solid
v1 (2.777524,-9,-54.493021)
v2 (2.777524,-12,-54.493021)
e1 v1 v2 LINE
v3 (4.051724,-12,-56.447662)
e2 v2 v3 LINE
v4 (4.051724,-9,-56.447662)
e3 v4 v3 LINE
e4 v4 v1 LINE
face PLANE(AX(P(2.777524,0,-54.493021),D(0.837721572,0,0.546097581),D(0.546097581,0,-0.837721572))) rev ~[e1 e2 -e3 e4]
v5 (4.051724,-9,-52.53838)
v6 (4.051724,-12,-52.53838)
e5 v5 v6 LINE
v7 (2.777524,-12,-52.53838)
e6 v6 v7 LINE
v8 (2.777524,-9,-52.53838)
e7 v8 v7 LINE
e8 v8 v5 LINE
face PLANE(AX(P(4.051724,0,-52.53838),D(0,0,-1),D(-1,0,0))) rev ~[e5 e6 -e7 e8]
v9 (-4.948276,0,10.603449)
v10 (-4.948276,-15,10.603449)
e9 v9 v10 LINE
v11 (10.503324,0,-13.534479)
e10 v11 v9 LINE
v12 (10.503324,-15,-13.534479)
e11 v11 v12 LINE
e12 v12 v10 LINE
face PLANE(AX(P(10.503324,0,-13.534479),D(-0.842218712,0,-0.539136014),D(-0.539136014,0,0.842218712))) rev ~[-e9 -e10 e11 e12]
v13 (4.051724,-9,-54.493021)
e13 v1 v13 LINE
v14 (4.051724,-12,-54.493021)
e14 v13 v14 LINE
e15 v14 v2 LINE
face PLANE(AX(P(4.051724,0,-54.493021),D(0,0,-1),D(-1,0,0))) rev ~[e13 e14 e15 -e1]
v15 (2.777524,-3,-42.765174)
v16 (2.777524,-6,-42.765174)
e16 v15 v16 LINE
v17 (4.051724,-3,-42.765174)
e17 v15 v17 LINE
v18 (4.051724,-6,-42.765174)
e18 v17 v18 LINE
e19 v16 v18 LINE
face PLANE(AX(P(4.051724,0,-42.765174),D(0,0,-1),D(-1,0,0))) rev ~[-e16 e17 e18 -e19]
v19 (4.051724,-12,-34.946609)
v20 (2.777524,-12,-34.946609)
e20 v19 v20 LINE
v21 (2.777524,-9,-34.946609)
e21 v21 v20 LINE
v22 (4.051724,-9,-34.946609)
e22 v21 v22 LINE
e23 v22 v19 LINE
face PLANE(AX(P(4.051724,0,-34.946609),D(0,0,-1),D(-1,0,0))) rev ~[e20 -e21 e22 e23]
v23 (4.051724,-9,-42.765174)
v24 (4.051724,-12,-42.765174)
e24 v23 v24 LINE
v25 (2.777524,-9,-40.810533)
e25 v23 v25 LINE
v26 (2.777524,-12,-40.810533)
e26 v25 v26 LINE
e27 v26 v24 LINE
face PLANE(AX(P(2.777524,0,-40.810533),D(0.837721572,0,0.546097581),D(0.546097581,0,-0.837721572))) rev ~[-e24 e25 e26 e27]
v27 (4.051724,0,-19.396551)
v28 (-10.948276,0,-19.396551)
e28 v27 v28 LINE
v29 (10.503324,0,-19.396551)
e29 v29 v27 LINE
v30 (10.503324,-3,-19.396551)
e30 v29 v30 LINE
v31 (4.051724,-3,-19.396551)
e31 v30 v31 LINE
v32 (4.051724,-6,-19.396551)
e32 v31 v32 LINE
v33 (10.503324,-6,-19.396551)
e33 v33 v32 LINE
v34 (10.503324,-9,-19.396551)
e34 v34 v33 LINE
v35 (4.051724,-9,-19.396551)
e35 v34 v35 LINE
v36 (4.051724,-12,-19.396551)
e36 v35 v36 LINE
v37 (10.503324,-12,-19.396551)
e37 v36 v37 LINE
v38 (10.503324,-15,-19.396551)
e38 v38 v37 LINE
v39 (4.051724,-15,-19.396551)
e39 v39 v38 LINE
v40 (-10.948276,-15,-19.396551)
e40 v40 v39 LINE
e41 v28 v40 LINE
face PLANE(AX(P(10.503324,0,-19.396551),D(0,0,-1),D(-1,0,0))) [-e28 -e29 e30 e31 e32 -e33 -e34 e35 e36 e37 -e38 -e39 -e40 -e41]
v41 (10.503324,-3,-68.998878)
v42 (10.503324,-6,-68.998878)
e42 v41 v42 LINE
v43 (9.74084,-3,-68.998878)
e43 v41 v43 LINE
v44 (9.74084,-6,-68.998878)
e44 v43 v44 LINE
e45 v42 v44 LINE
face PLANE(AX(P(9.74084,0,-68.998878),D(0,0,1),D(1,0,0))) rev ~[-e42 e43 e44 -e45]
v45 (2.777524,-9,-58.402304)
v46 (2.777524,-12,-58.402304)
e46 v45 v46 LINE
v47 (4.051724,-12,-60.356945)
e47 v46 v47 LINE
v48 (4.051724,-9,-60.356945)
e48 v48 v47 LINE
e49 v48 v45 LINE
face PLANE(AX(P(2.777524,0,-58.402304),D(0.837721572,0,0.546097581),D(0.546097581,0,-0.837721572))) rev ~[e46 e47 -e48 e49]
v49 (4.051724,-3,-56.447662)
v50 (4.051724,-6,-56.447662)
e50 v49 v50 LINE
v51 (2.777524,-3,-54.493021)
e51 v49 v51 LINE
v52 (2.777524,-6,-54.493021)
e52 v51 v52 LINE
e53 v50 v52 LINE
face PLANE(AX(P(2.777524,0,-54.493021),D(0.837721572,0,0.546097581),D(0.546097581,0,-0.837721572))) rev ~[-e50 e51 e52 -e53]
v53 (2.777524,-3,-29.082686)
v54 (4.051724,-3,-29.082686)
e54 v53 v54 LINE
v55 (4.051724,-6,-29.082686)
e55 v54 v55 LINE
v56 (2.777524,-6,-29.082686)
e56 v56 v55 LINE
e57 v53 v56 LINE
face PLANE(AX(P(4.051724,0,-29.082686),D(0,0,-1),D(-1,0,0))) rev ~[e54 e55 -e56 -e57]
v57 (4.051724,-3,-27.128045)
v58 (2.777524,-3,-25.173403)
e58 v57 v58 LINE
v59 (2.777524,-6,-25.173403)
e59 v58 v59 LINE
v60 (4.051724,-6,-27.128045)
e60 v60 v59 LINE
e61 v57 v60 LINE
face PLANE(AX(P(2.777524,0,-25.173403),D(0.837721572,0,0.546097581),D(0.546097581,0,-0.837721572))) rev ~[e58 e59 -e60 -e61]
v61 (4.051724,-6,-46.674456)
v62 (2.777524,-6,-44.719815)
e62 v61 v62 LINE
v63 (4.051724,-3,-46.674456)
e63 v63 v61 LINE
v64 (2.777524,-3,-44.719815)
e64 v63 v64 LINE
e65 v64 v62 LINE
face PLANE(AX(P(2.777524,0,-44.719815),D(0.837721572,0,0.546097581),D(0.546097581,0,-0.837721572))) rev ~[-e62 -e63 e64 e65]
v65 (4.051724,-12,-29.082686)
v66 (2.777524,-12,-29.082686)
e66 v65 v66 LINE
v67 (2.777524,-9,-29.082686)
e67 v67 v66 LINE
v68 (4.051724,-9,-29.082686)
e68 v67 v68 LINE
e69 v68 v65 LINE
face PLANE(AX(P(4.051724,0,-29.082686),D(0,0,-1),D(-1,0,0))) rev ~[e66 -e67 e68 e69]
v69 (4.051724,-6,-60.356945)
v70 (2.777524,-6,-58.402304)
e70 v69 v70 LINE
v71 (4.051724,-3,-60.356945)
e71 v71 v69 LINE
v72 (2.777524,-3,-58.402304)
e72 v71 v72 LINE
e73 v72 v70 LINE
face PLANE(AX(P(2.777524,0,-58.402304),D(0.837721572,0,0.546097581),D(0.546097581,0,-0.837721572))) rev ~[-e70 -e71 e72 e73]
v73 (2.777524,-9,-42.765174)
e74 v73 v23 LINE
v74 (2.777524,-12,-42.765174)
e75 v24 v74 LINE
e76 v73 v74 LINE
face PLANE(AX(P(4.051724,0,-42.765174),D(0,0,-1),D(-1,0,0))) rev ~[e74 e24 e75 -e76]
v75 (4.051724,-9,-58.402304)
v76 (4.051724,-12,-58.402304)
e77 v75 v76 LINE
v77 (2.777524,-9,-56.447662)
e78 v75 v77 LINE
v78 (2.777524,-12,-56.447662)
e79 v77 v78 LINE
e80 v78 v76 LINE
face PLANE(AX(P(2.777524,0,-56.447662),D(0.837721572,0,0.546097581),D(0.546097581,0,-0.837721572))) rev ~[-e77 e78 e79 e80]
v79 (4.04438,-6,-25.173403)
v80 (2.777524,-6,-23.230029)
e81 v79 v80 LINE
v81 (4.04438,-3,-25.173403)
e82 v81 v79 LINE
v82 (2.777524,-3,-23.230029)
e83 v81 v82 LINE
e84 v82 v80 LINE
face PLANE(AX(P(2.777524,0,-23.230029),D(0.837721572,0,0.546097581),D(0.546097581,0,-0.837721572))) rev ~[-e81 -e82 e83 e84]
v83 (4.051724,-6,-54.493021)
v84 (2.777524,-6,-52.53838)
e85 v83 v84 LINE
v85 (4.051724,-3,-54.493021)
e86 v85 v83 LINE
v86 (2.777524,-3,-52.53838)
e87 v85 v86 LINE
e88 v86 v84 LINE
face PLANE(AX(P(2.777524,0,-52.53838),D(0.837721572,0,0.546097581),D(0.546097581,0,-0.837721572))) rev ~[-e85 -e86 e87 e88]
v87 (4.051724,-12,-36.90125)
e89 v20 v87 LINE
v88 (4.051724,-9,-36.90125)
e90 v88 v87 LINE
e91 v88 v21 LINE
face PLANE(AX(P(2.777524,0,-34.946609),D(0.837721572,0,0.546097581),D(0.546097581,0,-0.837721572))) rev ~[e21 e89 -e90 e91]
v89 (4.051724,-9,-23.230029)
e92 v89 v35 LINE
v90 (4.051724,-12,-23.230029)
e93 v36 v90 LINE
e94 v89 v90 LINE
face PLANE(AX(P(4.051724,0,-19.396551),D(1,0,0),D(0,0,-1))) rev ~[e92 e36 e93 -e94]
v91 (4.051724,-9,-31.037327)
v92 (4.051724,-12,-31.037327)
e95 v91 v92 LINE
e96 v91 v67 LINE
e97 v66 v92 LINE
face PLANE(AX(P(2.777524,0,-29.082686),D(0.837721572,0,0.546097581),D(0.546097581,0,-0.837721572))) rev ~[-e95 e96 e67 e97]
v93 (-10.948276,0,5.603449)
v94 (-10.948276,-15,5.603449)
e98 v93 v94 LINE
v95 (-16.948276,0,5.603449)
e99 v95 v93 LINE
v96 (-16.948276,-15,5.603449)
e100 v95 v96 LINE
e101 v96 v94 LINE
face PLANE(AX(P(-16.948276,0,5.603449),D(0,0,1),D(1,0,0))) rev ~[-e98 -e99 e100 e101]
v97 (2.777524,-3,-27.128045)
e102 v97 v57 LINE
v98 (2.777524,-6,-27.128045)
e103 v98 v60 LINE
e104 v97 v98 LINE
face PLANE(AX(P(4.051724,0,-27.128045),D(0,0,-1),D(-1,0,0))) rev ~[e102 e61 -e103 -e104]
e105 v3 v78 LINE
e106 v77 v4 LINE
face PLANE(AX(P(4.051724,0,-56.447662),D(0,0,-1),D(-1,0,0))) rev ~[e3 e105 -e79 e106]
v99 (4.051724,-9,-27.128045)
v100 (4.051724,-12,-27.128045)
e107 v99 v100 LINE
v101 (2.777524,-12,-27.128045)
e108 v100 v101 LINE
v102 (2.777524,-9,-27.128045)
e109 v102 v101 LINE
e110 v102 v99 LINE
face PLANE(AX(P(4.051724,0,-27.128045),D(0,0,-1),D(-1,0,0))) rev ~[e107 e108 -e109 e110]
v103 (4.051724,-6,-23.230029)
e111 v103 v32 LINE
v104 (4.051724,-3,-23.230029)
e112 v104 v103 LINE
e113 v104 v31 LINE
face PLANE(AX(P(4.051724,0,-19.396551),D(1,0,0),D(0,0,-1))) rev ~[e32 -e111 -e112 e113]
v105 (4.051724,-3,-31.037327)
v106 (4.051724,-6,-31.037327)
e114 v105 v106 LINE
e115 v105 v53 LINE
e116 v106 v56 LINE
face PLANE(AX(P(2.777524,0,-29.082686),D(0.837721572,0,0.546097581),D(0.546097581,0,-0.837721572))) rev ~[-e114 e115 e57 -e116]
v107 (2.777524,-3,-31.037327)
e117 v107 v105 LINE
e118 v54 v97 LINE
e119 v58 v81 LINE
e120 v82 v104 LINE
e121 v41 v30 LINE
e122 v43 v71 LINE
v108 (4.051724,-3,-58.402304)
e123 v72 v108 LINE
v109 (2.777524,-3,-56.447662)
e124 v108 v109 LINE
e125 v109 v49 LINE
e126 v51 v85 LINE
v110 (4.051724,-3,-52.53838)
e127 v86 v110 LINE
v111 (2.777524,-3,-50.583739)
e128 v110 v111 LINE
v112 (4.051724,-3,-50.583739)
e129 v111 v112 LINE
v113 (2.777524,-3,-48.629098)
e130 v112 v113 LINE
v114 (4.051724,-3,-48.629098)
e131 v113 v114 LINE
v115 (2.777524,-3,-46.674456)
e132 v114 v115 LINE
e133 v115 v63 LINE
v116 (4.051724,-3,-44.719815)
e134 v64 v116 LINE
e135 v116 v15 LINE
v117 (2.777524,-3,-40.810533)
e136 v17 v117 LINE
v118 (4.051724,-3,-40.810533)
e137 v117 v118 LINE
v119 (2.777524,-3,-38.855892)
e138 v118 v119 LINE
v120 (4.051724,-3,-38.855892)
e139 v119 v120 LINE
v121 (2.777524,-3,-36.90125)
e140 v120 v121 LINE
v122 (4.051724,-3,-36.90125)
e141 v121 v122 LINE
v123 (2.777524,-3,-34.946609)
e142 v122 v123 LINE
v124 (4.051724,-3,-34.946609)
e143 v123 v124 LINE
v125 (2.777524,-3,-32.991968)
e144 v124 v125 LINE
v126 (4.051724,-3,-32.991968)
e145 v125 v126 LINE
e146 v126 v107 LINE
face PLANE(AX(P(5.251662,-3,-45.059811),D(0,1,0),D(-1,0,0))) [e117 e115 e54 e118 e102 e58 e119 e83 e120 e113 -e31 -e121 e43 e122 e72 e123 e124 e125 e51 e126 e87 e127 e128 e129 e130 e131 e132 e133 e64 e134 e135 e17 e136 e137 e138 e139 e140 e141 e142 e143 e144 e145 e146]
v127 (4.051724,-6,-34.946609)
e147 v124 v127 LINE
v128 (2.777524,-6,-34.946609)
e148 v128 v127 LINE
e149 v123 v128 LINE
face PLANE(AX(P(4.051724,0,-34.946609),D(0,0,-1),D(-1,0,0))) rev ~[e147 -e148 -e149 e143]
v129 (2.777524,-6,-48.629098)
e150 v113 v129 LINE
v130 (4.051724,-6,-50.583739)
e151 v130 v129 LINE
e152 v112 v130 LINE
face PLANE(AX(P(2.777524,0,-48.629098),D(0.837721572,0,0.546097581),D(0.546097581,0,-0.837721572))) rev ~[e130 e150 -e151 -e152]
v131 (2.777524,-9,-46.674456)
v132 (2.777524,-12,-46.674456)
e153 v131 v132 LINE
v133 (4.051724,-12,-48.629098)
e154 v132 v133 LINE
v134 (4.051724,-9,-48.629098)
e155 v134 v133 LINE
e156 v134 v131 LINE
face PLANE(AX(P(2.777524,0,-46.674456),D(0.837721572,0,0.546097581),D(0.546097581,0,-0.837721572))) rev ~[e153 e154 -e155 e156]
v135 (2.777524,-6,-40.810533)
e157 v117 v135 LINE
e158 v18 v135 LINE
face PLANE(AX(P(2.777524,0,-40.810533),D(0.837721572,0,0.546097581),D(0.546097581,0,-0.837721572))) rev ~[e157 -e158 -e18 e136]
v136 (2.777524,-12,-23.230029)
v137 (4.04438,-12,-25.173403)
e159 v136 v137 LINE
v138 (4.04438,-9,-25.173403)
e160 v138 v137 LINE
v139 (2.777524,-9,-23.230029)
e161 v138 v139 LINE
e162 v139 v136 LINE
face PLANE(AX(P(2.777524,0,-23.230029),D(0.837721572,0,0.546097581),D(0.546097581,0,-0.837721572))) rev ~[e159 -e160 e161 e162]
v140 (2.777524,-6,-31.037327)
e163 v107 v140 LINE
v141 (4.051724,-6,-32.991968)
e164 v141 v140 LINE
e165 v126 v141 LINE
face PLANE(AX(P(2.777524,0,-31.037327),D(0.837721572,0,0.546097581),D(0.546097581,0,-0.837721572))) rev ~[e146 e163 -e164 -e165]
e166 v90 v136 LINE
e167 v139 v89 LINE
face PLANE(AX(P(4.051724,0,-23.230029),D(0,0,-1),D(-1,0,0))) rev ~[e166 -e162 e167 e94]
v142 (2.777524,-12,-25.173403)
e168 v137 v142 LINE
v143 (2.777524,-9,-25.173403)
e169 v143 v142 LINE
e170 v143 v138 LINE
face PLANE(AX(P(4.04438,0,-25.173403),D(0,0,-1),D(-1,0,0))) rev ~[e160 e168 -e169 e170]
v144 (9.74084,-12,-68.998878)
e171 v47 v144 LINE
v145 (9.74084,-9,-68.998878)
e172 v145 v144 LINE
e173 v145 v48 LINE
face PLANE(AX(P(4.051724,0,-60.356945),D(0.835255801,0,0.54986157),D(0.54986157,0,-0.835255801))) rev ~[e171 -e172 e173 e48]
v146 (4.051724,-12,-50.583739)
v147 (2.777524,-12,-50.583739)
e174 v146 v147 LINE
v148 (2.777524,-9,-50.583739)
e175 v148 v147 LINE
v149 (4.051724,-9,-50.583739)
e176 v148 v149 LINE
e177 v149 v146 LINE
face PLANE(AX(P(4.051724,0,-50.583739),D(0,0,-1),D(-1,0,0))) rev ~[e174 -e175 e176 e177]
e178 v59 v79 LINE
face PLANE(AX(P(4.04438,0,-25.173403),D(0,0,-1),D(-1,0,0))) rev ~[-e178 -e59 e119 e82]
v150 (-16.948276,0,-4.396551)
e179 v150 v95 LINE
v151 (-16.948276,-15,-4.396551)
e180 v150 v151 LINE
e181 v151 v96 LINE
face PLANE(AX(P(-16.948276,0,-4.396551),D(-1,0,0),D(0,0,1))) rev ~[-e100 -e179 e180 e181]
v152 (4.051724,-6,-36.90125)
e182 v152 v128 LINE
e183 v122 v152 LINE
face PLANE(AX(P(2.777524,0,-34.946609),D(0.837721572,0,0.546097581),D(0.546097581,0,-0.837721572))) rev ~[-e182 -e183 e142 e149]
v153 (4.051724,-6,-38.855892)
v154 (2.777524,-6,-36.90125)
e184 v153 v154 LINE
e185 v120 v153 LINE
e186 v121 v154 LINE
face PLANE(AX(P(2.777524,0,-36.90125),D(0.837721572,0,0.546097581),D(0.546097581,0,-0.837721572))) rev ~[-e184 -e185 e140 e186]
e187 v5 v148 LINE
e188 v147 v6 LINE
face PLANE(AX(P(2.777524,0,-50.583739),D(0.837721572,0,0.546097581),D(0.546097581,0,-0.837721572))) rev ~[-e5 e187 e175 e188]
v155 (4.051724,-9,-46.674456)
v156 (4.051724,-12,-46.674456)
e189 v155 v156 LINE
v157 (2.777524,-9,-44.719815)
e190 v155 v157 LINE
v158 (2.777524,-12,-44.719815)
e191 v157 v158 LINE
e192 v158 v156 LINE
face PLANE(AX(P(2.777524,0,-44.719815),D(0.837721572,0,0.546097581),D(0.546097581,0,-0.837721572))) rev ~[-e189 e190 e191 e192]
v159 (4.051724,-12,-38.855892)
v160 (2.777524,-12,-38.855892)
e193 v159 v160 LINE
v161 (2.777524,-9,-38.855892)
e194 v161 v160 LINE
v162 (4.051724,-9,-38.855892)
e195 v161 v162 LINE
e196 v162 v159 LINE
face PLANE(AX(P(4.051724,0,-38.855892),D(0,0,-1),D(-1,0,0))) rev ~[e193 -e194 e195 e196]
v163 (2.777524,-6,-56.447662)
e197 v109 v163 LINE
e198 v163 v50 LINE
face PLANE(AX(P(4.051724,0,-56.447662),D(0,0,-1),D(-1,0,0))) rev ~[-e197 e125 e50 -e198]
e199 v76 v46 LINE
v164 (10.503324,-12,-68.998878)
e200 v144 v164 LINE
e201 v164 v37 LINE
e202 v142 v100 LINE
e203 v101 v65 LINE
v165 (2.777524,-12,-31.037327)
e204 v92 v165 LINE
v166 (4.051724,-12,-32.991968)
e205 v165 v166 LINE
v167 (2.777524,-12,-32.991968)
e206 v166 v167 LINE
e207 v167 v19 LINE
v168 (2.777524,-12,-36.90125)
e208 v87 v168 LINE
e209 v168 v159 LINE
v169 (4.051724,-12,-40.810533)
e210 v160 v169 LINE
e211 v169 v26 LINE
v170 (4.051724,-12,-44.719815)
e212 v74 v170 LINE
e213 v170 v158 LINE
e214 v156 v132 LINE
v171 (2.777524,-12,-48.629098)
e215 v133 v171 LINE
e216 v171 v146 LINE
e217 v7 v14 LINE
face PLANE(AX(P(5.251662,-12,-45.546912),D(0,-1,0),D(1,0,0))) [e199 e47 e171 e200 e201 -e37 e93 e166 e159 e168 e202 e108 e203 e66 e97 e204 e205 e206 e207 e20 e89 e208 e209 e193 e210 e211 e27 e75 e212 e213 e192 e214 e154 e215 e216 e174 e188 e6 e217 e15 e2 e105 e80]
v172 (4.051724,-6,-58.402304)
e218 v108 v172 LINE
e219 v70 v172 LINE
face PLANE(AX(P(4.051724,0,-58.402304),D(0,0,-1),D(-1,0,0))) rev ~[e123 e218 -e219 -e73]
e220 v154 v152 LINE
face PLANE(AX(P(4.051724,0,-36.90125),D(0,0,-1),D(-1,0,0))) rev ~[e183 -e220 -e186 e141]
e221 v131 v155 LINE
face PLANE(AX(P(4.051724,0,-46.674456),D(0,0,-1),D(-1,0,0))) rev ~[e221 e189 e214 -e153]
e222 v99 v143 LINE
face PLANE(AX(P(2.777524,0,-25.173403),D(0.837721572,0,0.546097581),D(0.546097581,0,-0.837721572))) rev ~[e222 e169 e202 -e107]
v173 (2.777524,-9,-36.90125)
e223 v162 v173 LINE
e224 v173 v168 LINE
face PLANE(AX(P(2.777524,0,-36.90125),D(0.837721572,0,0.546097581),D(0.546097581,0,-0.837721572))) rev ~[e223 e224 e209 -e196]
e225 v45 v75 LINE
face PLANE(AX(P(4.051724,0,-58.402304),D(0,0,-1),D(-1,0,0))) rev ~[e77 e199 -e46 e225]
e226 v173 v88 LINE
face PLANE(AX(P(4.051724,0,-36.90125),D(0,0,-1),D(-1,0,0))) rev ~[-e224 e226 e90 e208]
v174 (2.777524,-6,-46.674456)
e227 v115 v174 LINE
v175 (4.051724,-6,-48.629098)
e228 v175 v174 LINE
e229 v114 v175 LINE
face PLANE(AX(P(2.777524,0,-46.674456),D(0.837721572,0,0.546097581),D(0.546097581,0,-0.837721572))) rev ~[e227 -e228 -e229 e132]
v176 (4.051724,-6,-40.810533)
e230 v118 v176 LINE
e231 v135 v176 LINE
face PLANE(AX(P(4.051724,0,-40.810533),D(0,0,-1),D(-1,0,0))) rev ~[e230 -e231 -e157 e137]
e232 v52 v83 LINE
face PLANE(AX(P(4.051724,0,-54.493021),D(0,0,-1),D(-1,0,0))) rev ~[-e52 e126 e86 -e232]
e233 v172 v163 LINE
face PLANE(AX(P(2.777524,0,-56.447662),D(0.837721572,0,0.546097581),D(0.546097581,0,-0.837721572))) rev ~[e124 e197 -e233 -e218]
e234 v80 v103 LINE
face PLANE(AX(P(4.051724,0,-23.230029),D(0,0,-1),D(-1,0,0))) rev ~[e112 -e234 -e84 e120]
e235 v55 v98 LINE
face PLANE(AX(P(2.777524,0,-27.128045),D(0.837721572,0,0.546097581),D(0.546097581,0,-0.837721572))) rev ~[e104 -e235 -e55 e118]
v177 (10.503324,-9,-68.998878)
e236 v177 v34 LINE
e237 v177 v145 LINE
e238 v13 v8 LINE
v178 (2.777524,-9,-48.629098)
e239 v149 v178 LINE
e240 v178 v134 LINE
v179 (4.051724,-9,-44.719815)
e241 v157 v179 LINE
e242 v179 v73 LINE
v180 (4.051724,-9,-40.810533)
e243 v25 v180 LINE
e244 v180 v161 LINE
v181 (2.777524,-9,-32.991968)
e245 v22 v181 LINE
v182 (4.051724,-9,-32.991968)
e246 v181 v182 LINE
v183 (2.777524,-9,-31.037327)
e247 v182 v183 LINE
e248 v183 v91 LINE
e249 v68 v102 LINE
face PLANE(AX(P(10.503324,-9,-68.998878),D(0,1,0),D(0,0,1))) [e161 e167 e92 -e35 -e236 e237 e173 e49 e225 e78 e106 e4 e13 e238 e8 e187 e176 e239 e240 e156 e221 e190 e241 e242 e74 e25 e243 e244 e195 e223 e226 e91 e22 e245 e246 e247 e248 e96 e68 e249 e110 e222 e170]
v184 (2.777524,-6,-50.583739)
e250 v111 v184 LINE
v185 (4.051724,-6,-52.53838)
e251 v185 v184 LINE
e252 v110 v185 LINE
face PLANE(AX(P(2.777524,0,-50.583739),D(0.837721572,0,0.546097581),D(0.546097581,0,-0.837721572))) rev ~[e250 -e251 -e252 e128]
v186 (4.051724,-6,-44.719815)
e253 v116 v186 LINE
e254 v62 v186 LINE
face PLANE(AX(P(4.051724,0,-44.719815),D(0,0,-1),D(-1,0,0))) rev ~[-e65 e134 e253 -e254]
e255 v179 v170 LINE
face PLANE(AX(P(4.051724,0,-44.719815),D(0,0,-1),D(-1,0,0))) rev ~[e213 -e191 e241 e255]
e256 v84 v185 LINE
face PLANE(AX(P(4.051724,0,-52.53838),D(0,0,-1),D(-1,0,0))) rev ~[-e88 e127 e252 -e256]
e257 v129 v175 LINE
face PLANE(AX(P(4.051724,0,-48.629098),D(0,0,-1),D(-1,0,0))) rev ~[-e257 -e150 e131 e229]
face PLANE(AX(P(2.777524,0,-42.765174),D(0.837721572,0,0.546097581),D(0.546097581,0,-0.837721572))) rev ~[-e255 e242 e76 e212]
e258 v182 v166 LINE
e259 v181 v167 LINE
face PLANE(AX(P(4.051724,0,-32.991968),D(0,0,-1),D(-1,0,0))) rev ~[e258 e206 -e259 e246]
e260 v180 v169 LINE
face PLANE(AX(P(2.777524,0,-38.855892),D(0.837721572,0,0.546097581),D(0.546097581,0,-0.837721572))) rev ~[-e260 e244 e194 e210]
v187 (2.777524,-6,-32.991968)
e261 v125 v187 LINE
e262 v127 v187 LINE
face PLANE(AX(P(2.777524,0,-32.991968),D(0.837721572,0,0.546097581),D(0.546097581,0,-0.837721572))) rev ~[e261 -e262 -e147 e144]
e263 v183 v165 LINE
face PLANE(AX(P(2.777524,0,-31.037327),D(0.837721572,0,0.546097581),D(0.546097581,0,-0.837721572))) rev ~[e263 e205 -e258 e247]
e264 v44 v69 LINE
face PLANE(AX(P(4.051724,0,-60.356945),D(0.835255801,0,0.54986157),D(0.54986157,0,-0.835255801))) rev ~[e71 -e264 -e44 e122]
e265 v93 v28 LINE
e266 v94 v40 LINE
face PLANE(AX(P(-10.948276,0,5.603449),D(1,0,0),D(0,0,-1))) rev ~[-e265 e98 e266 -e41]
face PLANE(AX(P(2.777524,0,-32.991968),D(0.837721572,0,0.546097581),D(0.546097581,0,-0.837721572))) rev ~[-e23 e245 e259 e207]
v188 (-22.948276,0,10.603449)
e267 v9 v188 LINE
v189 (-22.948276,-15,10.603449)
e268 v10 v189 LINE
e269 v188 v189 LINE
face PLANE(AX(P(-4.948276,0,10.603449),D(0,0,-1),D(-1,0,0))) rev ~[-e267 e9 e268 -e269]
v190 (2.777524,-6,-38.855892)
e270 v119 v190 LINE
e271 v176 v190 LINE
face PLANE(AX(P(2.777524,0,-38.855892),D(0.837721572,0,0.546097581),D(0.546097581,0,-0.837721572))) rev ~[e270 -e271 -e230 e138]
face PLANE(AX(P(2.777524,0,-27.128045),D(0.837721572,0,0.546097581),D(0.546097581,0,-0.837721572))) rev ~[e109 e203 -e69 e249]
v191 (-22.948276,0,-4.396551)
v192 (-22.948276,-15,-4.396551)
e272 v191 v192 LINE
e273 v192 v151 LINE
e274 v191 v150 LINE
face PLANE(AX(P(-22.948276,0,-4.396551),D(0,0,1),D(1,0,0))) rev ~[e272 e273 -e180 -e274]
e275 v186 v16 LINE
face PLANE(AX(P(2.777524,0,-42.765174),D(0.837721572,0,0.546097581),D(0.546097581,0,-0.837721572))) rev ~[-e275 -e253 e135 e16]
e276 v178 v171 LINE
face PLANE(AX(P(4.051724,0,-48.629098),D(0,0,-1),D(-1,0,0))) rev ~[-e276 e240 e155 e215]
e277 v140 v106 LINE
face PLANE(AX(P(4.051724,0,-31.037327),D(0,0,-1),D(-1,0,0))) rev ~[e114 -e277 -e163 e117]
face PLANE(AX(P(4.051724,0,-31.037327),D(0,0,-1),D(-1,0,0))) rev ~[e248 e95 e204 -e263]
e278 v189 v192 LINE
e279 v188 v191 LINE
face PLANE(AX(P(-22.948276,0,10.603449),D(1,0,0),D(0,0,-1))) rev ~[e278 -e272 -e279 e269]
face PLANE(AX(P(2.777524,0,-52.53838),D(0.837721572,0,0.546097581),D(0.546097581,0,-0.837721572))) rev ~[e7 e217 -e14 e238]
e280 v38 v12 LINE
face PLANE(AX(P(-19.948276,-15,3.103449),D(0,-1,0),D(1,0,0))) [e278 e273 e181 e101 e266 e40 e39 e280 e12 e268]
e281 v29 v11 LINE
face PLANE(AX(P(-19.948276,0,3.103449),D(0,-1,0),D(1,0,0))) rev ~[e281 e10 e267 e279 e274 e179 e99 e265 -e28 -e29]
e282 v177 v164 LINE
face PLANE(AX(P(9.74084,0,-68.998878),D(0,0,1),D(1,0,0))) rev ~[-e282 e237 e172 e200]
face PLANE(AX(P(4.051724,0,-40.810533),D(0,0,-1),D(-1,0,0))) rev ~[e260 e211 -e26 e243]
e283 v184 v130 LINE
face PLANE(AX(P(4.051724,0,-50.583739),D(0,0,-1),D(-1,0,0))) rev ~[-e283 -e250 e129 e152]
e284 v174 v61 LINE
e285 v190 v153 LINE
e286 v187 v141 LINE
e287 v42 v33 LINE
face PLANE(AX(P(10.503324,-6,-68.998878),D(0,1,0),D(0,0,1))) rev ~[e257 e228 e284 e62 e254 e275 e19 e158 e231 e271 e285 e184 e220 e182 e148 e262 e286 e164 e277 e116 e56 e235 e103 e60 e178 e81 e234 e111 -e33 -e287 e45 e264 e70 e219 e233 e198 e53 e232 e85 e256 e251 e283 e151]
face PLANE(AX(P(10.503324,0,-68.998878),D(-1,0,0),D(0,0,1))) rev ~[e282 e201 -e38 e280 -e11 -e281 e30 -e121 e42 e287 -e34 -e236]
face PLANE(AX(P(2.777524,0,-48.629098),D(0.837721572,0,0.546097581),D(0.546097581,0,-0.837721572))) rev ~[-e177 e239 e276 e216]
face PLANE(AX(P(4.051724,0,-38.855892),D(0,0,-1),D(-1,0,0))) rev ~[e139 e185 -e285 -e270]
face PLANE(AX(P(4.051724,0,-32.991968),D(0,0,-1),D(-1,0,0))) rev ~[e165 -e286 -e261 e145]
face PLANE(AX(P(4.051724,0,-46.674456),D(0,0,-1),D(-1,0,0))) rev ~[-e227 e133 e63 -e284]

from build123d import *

# Parameters (mm, degrees)
F0_W     = 6
F0_H     = 5
F1_DEPTH = 15
F2_W     = 10.5033244736
F2_H     = 51.3265209893
F3_DEPTH = 3
F4_W     = 10.5033244736
F4_H     = 52.3007216553
F5_DEPTH = 3
F6_W     = 3
F6_H     = 49.6023270358
F7_DEPTH = 25.4


with BuildPart() as f1:
    # F0 (on Front) → F1 (new body)
    with BuildSketch(Plane.XZ):
        Polygon((-22.9482755264, 10.603449295), (-22.9482755264, -4.396550705), (-16.9482755264, -4.396550705), (-16.9482755264, 5.603449295), (-16.9482755264, 10.603449295), align=None)
        Polygon((4.0517244736, -29.082685709), (4.0517244736, -27.1280445158), (2.7775244736, -27.1280445158), align=None)
        Polygon((4.0517244736, -31.0373269022), (4.0517244736, -29.082685709), (2.7775244736, -29.082685709), align=None)
        Polygon((4.0517244736, -32.9919680953), (4.0517244736, -31.0373269022), (2.7775244736, -31.0373269022), align=None)
        Polygon((4.0517244736, -34.9466092885), (4.0517244736, -32.9919680953), (2.7775244736, -32.9919680953), align=None)
        Polygon((4.0517244736, -36.9012504816), (4.0517244736, -34.9466092885), (2.7775244736, -34.9466092885), align=None)
        Polygon((4.0517244736, -38.8558916748), (4.0517244736, -36.9012504816), (2.7775244736, -36.9012504816), align=None)
        Polygon((4.0517244736, -40.8105328679), (4.0517244736, -38.8558916748), (2.7775244736, -38.8558916748), align=None)
        Polygon((4.0517244736, -42.7651740611), (4.0517244736, -40.8105328679), (2.7775244736, -40.8105328679), align=None)
        Polygon((2.7775244736, -42.7651740611), (4.0517244736, -44.7198152542), (4.0517244736, -42.7651740611), align=None)
        Polygon((2.7775244736, -44.7198152542), (4.0517244736, -46.6744564474), (4.0517244736, -44.7198152542), align=None)
        Polygon((2.7775244736, -46.6744564474), (4.0517244736, -48.6290976405), (4.0517244736, -46.6744564474), align=None)
        Polygon((2.7775244736, -48.6290976405), (4.0517244736, -50.5837388337), (4.0517244736, -48.6290976405), align=None)
        Polygon((2.7775244736, -50.5837388337), (4.0517244736, -52.5383800268), (4.0517244736, -50.5837388337), align=None)
        Polygon((2.7775244736, -52.5383800268), (4.0517244736, -54.49302122), (4.0517244736, -52.5383800268), align=None)
        Polygon((2.7775244736, -54.49302122), (4.0517244736, -56.4476624131), (4.0517244736, -54.49302122), align=None)
        Polygon((2.7775244736, -56.4476624131), (4.0517244736, -58.4023036063), (4.0517244736, -56.4476624131), align=None)
        Polygon((2.7775244736, -58.4023036063), (4.0517244736, -60.3569447994), (4.0517244736, -58.4023036063), align=None)
        with Locations((-13.9482755264, 8.103449295)):
            Rectangle(F0_W, F0_H)
        Polygon((10.5033244736, -13.5344793896), (-4.9482755264, 10.603449295), (-4.9482755264, -13.5344793896), align=None)
        Polygon((4.0517244736, -25.1734033227), (4.0517244736, -23.2300292701), (2.7775244736, -23.2300292701), (4.0443796011, -25.1734033227), align=None)
        Polygon((4.0517244736, -27.1280445158), (4.0517244736, -25.1846704632), (4.0443796011, -25.1734033227), (2.7775244736, -25.1734033227), align=None)
        Polygon((-10.9482755264, 10.603449295), (-10.9482755264, 5.603449295), (-10.9482755264, -19.396550705), (-4.9482755264, -19.396550705), (-4.9482755264, -13.5344793896), (-4.9482755264, 10.603449295), align=None)
        Polygon((-4.9482755264, -13.5344793896), (-4.9482755264, -19.396550705), (4.0517244736, -19.396550705), (10.5033244736, -19.396550705), (10.5033244736, -13.5344793896), align=None)
        Polygon((4.0517244736, -25.1846704632), (4.0517244736, -25.1734033227), (4.0443796011, -25.1734033227), align=None)
        Polygon((10.5033244736, -19.396550705), (4.0517244736, -19.396550705), (4.0517244736, -23.2300292701), (4.0517244736, -25.1734033227), (4.0517244736, -25.1846704632), (4.0517244736, -27.1280445158), (4.0517244736, -29.082685709), (4.0517244736, -31.0373269022), (4.0517244736, -32.9919680953), (4.0517244736, -34.9466092885), (4.0517244736, -36.9012504816), (4.0517244736, -38.8558916748), (4.0517244736, -40.8105328679), (4.0517244736, -42.7651740611), (4.0517244736, -44.7198152542), (4.0517244736, -46.6744564474), (4.0517244736, -48.6290976405), (4.0517244736, -50.5837388337), (4.0517244736, -52.5383800268), (4.0517244736, -54.49302122), (4.0517244736, -56.4476624131), (4.0517244736, -58.4023036063), (4.0517244736, -60.3569447994), (9.7408400844, -68.9988777408), (10.5033244736, -68.9988777408), align=None)
    extrude(amount=F1_DEPTH)

    # F2 (on face) → F3 (cut)
    with BuildSketch(Plane(origin=(0, 0, 0), x_dir=(-1, 0, 0), z_dir=(0, 1, 0))):
        with Locations((-5.2516622368, -45.0598111997)):
            Rectangle(F2_W, F2_H)
    extrude(amount=-F3_DEPTH, mode=Mode.SUBTRACT)

    # F4 (on face) → F5 (cut)
    with BuildSketch(Plane.XZ.offset(15)):
        with Locations((5.2516622368, -45.5469115327)):
            Rectangle(F4_W, F4_H)
    extrude(amount=-F5_DEPTH, mode=Mode.SUBTRACT)

    # F6 (on face) → F7 (cut)
    with BuildSketch(Plane.YZ.offset(10.5033244736)):
        with Locations((-7.5, -44.1977142229)):
            Rectangle(F6_W, F6_H)
    extrude(amount=-F7_DEPTH, mode=Mode.SUBTRACT)


solid = f1.part
